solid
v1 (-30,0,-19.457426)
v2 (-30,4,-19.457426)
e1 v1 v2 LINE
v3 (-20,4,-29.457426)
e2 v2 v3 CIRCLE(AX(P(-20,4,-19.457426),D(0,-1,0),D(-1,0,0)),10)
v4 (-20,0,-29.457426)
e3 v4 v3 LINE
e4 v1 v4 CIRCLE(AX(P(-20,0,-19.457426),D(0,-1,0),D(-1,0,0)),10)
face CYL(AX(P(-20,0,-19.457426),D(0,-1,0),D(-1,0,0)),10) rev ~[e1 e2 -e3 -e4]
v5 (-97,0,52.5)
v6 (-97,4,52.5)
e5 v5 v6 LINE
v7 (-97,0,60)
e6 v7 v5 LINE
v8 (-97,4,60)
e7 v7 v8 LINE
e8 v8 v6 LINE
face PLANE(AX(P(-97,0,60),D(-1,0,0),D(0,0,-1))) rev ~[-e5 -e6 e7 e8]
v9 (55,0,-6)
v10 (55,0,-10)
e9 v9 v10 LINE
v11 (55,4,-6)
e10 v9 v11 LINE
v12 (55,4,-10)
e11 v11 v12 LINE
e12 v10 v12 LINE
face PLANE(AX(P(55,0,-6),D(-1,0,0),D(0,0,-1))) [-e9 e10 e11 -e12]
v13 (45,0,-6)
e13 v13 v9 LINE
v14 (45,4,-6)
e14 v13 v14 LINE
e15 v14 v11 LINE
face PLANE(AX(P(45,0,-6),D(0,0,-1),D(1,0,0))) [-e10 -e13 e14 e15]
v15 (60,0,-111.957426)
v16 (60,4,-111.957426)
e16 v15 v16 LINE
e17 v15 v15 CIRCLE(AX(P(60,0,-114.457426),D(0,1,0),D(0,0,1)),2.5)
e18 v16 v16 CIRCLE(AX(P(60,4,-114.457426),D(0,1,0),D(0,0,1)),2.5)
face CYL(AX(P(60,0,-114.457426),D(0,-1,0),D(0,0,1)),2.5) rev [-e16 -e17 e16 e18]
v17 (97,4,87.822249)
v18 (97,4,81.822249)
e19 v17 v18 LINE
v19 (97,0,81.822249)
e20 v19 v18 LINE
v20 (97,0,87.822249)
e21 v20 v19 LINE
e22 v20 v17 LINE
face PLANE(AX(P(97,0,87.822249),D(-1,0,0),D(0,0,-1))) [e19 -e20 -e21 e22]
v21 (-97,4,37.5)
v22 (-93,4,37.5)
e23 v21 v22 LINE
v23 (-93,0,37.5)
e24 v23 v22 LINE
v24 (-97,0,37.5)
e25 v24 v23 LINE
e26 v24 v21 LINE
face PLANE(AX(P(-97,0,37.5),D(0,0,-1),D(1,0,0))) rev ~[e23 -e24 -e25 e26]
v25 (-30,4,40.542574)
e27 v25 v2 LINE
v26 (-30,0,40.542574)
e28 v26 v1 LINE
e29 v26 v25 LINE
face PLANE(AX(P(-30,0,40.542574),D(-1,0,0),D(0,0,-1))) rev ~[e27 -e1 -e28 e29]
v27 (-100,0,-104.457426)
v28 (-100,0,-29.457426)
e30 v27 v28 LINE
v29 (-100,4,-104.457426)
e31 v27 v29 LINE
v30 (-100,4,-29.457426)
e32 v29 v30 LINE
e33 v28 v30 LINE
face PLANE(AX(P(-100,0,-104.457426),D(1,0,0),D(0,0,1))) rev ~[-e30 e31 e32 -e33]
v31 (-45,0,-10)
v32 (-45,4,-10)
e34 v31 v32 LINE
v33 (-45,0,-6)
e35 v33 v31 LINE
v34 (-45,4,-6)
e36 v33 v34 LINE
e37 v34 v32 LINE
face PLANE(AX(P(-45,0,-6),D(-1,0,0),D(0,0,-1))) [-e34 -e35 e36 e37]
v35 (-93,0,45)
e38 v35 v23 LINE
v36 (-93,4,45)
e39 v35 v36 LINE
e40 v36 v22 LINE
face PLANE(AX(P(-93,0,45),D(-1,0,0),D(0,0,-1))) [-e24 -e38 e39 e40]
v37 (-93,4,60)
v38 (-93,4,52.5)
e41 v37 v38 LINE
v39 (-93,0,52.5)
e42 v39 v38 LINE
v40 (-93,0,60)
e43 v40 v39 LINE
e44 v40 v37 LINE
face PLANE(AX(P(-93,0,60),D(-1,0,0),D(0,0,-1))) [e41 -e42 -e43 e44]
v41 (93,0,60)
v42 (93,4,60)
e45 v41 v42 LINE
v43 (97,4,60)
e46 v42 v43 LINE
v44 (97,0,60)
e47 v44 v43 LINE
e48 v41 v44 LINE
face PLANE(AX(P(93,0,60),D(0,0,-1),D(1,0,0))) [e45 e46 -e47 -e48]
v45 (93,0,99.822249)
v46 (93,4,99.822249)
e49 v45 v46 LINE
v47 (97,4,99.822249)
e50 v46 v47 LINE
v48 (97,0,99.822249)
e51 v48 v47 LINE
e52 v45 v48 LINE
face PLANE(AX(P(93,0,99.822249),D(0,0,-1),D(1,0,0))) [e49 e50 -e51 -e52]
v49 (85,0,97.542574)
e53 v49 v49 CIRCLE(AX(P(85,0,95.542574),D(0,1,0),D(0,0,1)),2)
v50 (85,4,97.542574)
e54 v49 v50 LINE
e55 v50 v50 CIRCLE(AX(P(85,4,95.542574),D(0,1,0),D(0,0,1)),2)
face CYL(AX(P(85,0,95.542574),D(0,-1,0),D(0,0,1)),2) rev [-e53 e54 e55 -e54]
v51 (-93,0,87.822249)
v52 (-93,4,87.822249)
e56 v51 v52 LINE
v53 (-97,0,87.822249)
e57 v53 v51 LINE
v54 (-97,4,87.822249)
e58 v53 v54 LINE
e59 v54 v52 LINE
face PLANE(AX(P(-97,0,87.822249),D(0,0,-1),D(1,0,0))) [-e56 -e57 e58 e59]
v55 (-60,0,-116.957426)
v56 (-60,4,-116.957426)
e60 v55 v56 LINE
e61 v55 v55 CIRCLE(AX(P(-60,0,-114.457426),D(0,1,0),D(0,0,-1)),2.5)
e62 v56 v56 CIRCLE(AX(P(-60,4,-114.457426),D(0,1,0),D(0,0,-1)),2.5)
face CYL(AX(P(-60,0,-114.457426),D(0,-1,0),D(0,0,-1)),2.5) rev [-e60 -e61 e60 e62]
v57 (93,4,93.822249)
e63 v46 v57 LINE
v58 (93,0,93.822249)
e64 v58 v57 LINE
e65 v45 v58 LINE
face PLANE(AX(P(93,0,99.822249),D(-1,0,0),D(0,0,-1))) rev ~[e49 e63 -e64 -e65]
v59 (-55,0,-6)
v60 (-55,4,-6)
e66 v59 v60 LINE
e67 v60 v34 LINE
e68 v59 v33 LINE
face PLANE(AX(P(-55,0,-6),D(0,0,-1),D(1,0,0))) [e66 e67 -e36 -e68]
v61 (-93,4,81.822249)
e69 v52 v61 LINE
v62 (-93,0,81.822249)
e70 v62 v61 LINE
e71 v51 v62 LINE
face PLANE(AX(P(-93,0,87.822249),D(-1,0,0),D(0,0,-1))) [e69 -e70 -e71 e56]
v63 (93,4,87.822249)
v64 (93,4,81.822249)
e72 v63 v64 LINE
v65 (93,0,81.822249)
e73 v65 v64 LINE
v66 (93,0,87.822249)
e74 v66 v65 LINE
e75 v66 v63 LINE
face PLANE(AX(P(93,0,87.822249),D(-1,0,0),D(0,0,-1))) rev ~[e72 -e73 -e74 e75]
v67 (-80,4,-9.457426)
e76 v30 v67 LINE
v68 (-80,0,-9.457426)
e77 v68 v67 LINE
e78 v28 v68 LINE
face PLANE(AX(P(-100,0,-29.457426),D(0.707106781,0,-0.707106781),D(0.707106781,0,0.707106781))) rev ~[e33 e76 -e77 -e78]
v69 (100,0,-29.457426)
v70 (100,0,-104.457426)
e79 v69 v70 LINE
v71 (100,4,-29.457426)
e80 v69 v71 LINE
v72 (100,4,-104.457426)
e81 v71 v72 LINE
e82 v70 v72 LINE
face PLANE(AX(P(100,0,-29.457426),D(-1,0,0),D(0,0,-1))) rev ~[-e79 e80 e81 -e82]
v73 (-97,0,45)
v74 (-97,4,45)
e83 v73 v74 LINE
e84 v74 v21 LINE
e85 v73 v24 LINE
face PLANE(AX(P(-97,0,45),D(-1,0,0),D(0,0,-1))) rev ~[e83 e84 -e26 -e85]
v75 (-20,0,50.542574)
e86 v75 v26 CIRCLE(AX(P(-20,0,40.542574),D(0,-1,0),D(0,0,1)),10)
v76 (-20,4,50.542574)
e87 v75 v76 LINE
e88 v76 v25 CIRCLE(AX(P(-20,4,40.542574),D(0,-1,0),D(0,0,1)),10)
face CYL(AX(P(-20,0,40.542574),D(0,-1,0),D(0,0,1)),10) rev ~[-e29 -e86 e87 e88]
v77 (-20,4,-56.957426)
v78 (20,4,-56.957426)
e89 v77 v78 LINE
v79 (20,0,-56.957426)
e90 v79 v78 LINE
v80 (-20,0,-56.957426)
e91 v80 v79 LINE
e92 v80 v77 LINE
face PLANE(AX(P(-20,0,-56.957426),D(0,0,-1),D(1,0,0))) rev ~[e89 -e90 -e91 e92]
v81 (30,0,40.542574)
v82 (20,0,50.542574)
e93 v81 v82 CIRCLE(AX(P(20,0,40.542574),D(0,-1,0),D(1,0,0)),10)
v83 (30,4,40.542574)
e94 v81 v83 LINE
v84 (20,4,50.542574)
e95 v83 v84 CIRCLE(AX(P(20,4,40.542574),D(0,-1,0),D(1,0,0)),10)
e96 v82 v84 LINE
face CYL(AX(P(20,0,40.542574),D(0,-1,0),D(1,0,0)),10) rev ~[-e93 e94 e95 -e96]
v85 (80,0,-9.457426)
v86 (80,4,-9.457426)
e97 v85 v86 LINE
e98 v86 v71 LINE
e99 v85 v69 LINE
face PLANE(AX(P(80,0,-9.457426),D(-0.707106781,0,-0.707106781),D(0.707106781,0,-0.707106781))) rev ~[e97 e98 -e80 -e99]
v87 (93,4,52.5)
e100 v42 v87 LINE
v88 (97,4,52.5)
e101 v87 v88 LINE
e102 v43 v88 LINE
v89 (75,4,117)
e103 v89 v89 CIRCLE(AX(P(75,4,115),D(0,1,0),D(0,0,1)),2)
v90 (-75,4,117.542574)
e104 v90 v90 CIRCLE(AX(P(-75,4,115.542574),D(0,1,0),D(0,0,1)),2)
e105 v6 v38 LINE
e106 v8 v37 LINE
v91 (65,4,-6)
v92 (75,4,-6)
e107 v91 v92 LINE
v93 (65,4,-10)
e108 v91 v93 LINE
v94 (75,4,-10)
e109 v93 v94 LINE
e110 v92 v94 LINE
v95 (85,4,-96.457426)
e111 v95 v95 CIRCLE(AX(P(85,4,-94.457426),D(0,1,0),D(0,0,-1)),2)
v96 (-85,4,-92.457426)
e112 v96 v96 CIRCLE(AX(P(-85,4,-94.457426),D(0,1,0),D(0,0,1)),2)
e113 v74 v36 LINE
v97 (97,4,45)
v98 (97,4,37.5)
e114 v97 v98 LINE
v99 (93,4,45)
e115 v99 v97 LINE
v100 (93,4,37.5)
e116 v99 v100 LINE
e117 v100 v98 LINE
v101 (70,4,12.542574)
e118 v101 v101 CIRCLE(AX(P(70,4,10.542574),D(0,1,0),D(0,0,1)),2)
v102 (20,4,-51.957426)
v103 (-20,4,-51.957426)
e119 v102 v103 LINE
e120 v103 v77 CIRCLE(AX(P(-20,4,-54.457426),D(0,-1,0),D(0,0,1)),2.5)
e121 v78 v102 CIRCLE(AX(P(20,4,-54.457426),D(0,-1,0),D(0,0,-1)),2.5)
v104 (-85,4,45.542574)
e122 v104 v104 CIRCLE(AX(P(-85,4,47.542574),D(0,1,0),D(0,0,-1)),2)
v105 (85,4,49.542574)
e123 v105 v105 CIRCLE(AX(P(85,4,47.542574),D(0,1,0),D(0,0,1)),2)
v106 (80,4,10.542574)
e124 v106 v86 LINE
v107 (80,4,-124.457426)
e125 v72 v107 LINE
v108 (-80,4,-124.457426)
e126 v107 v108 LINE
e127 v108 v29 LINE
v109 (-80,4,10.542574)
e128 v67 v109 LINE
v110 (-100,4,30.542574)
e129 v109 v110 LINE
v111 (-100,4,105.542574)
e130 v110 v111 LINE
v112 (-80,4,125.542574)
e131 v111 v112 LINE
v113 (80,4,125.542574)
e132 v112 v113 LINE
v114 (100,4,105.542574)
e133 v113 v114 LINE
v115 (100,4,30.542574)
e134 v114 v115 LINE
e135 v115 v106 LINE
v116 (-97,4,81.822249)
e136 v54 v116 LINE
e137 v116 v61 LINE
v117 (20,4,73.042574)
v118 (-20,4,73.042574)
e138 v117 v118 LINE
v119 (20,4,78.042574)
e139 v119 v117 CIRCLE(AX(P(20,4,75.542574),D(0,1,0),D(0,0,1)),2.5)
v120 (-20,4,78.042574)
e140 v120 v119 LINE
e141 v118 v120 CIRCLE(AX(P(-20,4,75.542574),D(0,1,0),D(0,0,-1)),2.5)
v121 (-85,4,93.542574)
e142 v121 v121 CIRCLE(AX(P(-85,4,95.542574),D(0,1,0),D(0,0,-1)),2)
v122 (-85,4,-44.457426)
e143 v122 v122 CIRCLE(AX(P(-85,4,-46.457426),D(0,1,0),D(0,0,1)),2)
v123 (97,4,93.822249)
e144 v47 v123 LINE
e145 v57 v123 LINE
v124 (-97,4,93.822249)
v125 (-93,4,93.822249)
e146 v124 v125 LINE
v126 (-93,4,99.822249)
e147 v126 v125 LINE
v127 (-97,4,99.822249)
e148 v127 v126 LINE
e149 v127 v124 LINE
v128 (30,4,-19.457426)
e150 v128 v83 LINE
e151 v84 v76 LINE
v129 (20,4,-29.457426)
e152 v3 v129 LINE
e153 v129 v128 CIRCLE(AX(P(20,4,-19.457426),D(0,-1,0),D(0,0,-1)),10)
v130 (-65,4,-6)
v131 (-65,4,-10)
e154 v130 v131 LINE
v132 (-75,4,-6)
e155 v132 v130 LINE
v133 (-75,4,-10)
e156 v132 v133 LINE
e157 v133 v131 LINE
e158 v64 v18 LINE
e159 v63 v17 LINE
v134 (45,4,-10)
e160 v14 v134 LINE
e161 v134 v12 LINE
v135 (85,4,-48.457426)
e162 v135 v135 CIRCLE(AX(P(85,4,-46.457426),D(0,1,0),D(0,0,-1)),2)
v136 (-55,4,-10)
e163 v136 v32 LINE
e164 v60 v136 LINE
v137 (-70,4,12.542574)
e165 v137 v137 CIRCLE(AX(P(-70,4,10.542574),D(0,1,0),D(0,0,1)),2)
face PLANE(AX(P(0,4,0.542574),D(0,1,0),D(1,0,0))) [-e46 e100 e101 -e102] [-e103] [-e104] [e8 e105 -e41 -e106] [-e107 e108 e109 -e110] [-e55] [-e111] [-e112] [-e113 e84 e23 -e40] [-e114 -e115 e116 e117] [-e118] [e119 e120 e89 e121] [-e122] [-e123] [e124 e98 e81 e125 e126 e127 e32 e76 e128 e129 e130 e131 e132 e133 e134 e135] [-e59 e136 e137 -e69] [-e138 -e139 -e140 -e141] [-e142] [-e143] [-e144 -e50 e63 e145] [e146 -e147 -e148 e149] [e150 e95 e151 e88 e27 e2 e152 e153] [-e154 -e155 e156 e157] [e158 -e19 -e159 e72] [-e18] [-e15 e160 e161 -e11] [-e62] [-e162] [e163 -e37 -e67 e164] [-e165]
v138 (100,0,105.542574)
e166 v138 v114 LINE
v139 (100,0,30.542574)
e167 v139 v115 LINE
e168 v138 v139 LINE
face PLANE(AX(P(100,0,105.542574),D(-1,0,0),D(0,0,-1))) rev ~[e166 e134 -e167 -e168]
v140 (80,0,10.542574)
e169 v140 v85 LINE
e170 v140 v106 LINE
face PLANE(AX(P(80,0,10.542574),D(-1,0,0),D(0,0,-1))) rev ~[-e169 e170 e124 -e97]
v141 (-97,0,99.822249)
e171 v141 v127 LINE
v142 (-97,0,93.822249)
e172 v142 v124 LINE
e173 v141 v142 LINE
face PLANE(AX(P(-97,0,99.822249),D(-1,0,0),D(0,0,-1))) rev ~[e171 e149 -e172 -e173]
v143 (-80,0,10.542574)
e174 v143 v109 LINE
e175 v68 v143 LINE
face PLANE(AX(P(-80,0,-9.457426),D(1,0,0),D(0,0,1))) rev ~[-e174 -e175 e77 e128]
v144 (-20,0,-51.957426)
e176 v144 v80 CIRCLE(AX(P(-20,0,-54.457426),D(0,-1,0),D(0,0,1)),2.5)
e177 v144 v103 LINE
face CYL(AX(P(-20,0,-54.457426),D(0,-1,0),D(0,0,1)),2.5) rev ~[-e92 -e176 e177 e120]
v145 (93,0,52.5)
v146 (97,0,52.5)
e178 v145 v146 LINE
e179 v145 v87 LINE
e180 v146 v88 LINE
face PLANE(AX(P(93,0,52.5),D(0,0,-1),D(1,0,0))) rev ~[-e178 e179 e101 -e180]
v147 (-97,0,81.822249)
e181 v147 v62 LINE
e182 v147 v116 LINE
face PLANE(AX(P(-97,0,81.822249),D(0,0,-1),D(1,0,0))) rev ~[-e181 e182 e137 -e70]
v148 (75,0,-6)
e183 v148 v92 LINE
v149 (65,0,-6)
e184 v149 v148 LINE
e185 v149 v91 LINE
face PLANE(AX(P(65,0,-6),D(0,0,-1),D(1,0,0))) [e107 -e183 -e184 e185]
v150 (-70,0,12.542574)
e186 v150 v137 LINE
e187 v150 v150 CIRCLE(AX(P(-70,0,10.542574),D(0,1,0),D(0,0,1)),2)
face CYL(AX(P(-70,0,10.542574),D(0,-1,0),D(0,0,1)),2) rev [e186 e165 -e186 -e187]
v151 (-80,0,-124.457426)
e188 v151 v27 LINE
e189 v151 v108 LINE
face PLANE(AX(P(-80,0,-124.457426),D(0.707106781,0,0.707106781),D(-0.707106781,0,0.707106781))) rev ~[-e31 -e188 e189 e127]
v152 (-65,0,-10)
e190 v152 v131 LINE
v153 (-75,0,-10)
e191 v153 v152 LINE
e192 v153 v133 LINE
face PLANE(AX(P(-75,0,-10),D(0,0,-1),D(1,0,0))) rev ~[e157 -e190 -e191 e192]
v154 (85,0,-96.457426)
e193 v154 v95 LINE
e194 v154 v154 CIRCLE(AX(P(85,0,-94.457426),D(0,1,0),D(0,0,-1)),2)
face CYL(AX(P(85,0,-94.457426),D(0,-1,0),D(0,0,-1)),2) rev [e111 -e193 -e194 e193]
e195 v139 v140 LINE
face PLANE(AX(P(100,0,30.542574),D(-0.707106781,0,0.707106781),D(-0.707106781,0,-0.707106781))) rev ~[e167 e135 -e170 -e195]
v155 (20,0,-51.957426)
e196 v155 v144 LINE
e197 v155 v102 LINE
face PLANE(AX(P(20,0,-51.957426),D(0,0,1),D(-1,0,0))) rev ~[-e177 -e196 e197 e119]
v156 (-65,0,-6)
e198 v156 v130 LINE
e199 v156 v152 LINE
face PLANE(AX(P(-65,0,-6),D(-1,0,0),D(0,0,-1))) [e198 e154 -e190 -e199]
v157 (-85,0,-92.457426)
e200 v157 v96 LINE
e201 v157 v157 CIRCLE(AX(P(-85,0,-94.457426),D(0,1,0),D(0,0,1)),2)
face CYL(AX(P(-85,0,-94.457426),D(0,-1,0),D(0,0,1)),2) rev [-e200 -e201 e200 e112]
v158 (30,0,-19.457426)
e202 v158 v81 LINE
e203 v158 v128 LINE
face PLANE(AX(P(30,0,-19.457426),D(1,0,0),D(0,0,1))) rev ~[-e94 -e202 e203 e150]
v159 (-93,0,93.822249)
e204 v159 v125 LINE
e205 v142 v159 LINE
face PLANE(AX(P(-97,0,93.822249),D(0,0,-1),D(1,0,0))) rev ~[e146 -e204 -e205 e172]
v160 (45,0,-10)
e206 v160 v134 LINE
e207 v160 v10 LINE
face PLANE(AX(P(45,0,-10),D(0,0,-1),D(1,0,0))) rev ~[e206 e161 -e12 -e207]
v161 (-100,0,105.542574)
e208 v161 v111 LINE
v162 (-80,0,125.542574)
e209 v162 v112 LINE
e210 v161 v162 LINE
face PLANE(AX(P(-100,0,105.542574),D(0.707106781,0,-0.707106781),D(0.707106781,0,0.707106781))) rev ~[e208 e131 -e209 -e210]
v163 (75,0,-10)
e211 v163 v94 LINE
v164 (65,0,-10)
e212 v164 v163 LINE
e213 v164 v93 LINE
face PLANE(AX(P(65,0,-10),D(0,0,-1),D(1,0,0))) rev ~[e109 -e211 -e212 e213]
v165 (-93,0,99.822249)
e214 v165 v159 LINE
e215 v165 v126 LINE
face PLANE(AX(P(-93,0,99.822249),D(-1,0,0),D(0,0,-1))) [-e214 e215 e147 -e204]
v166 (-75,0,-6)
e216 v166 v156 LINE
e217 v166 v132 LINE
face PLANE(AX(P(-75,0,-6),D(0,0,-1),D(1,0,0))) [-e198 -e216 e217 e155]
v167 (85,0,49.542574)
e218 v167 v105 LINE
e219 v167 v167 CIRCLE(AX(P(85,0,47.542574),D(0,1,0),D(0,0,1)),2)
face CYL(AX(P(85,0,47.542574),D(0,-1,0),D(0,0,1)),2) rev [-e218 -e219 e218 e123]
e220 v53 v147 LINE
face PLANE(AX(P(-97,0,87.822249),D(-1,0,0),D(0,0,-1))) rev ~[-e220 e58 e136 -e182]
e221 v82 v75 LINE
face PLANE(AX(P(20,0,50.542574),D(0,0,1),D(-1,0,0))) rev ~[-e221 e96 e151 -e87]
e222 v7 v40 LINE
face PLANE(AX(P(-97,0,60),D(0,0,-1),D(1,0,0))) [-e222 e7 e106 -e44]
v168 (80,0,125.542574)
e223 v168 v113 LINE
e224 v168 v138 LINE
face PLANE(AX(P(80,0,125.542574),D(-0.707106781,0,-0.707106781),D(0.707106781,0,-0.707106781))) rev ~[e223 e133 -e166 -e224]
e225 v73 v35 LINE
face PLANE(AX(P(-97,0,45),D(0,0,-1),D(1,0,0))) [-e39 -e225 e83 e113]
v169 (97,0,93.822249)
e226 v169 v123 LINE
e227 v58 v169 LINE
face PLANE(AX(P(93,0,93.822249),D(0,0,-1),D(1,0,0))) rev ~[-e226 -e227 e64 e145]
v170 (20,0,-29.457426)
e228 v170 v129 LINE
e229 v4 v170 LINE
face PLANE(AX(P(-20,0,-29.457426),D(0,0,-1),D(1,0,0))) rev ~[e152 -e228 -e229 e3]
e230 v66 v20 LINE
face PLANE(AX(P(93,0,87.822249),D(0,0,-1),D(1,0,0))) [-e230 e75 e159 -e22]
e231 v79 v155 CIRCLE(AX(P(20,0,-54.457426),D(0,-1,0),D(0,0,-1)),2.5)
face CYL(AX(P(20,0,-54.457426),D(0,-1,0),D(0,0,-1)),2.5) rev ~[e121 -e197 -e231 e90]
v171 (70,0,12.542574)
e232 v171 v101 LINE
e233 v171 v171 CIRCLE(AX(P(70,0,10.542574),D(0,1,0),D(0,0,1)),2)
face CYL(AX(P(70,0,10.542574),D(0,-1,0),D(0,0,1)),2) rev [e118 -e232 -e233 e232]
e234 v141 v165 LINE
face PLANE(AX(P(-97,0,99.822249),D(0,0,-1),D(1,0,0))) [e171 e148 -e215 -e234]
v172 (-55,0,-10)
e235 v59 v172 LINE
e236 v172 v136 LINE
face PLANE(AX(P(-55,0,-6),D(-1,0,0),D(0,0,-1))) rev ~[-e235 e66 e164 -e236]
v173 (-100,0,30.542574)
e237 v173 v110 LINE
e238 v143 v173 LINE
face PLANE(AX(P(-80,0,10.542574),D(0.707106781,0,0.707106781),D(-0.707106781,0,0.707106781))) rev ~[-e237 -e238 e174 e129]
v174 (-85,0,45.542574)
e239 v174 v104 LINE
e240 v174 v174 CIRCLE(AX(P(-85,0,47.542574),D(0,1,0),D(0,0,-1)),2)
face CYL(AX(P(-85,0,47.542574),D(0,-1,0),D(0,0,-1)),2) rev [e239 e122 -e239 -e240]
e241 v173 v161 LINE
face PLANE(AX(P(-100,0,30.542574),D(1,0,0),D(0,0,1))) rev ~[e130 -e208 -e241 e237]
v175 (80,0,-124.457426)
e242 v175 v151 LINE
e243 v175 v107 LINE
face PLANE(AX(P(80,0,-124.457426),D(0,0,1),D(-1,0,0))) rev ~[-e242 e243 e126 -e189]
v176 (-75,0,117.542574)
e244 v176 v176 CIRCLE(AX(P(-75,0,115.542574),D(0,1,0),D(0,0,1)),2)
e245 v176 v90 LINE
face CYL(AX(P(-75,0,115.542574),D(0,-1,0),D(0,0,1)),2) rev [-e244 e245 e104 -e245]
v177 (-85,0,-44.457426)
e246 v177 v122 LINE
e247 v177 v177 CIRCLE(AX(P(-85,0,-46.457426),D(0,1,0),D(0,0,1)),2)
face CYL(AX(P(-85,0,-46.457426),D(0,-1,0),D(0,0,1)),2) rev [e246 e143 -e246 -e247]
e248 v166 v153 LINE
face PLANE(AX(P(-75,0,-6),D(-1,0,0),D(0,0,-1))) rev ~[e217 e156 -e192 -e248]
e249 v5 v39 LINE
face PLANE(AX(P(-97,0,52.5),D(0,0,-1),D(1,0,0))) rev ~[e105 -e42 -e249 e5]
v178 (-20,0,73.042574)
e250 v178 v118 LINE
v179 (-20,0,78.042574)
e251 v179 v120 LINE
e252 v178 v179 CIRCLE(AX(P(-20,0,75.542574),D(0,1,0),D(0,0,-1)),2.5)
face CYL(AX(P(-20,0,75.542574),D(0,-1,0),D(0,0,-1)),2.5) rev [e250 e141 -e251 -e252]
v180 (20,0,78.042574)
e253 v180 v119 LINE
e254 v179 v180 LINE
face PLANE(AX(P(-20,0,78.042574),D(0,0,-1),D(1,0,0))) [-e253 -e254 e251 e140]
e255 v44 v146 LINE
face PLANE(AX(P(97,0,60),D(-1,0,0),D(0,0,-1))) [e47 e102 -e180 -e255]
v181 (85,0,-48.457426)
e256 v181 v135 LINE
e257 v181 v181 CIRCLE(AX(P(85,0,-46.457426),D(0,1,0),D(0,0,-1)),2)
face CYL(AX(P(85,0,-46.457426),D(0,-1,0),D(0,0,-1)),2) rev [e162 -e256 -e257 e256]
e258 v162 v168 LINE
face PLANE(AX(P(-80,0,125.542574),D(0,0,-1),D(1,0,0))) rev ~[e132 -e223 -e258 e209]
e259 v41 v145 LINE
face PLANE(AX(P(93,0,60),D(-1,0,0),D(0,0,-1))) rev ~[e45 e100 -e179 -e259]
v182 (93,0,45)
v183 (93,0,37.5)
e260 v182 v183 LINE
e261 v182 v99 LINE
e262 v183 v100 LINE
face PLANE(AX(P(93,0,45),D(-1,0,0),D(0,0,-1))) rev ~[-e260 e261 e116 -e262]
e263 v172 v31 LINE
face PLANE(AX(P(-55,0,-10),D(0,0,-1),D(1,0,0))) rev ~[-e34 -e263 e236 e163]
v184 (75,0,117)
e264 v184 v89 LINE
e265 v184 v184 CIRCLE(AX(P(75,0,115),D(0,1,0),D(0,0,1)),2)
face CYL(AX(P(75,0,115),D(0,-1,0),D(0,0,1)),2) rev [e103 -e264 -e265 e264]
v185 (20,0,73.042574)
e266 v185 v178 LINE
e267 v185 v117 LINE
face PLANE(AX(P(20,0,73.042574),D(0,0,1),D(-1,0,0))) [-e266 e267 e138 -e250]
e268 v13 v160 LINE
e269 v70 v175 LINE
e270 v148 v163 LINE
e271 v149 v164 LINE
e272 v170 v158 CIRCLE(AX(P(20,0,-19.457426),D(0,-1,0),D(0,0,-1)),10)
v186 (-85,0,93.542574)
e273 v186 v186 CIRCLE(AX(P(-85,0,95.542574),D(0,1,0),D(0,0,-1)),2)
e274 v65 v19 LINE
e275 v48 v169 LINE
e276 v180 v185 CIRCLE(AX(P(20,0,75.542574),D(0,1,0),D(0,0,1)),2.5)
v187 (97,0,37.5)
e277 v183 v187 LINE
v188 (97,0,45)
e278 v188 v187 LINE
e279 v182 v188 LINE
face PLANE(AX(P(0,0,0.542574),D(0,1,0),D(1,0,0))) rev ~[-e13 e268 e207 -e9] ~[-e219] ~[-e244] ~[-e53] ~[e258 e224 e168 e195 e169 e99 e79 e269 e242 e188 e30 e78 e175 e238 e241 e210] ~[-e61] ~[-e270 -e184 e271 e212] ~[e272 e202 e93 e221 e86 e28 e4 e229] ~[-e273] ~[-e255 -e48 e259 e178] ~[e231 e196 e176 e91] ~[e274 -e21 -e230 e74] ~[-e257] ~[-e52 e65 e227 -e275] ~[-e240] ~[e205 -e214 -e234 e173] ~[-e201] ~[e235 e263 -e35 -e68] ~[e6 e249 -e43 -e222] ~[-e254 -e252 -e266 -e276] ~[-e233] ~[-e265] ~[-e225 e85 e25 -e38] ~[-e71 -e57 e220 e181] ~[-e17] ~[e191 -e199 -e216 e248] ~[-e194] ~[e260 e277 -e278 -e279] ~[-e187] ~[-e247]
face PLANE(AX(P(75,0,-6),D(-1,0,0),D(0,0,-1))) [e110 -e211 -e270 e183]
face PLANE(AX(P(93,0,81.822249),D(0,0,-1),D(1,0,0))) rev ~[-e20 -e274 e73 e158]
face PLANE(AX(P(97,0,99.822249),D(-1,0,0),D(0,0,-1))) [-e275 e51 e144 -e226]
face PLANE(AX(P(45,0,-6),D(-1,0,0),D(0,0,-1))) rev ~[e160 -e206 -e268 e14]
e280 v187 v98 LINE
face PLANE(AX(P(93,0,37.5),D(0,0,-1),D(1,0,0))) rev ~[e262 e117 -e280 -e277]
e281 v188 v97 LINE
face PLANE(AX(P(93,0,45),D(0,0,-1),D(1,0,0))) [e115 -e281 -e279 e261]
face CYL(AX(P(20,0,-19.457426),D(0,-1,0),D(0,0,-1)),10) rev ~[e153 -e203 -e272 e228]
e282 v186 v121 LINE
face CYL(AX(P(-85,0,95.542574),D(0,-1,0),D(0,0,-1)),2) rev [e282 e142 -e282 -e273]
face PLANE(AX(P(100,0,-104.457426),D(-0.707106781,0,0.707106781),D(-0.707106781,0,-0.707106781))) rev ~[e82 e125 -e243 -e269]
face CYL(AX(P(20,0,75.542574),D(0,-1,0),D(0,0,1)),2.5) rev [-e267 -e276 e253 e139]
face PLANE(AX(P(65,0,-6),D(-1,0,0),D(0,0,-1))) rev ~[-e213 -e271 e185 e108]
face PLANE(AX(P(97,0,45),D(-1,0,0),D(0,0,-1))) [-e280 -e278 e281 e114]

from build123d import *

# Parameters (mm, degrees)
SKETCH1_R           = 2
SKETCH1_R_2         = 2.5
SKETCH1_W           = 4
SKETCH1_H           = 7.5
SKETCH1_H_2         = 6
SKETCH1_W_2         = 10
SKETCH1_H_3         = 4
BOSS_EXTRUDE1_DEPTH = 4


with BuildPart() as part:
    # Sketch1 → Boss-Extrude1 (new body)
    with BuildSketch(Plane(origin=(0, 0, 0), x_dir=(1, 0, 0), z_dir=(0, 1, 0))):
        Polygon((80, 124.45742592), (-80, 124.45742592), (-100, 104.45742592), (-100, 29.45742592), (-80, 9.45742592), (-80, -10.54257408), (-100, -30.54257408), (-100, -105.54257408), (-80, -125.54257408), (80, -125.54257408), (100, -105.54257408), (100, -30.54257408), (80, -10.54257408), (80, 9.45742592), (100, 29.45742592), (100, 104.45742592), align=None)
        with Locations(Location((-85, 94.45742592, 0), (0, 0, 270))):
            Circle(SKETCH1_R, mode=Mode.SUBTRACT)
        with Locations(Location((-85, 46.45742592, 0), (0, 0, 270))):
            Circle(SKETCH1_R, mode=Mode.SUBTRACT)
        with Locations(Location((85, 94.45742592, 0), (0, 0, 90))):
            Circle(SKETCH1_R, mode=Mode.SUBTRACT)
        with Locations(Location((85, 46.45742592, 0), (0, 0, 90))):
            Circle(SKETCH1_R, mode=Mode.SUBTRACT)
        with Locations(Location((85, -47.54257408, 0), (0, 0, 270))):
            Circle(SKETCH1_R, mode=Mode.SUBTRACT)
        with Locations(Location((85, -95.54257408, 0), (0, 0, 270))):
            Circle(SKETCH1_R, mode=Mode.SUBTRACT)
        with Locations(Location((-85, -47.54257408, 0), (0, 0, 90))):
            Circle(SKETCH1_R, mode=Mode.SUBTRACT)
        with Locations(Location((-85, -95.54257408, 0), (0, 0, 90))):
            Circle(SKETCH1_R, mode=Mode.SUBTRACT)
        with Locations(Location((60, 114.45742592, 0), (0, 0, 270))):
            Circle(SKETCH1_R_2, mode=Mode.SUBTRACT)
        with Locations(Location((-60, 114.45742592, 0), (0, 0, 90))):
            Circle(SKETCH1_R_2, mode=Mode.SUBTRACT)
        with Locations(Location((-75, -115.54257408, 0), (0, 0, 270))):
            Circle(SKETCH1_R, mode=Mode.SUBTRACT)
        with Locations(Location((-70, -10.54257408, 0), (0, 0, 270))):
            Circle(SKETCH1_R, mode=Mode.SUBTRACT)
        with Locations(Location((75, -115, 0), (0, 0, 270))):
            Circle(SKETCH1_R, mode=Mode.SUBTRACT)
        with Locations(Location((70, -10.54257408, 0), (0, 0, 270))):
            Circle(SKETCH1_R, mode=Mode.SUBTRACT)
        with BuildLine():
            Line((-20, 29.45742592), (20, 29.45742592))
            ThreePointArc((20, 29.45742592), (27.071067812, 26.528493731), (30, 19.45742592))
            Line((30, 19.45742592), (30, -40.54257408))
            ThreePointArc((30, -40.54257408), (27.071067812, -47.613641892), (20, -50.54257408))
            Line((20, -50.54257408), (-20, -50.54257408))
            ThreePointArc((-20, -50.54257408), (-27.071067812, -47.613641892), (-30, -40.54257408))
            Line((-30, -40.54257408), (-30, 19.45742592))
            ThreePointArc((-30, 19.45742592), (-27.071067812, 26.528493731), (-20, 29.45742592))
        make_face(mode=Mode.SUBTRACT)
        with BuildLine():
            Line((20, -73.04257408), (-20, -73.04257408))
            ThreePointArc((-20, -73.04257408), (-22.5, -75.54257408), (-20, -78.04257408))
            Line((-20, -78.04257408), (20, -78.04257408))
            ThreePointArc((20, -78.04257408), (22.5, -75.54257408), (20, -73.04257408))
        make_face(mode=Mode.SUBTRACT)
        with Locations((95, -41.25)):
            Rectangle(SKETCH1_W, SKETCH1_H, mode=Mode.SUBTRACT)
        with Locations((95, -96.822248533)):
            Rectangle(SKETCH1_W, SKETCH1_H_2, mode=Mode.SUBTRACT)
        with Locations((70, 8)):
            Rectangle(SKETCH1_W_2, SKETCH1_H_3, mode=Mode.SUBTRACT)
        with Locations((95, -56.25)):
            Rectangle(SKETCH1_W, SKETCH1_H, mode=Mode.SUBTRACT)
        with Locations((50, 8)):
            Rectangle(SKETCH1_W_2, SKETCH1_H_3, mode=Mode.SUBTRACT)
        with Locations((95, -84.822248533)):
            Rectangle(SKETCH1_W, SKETCH1_H_2, mode=Mode.SUBTRACT)
        with Locations((-95, -96.822248533)):
            Rectangle(SKETCH1_W, SKETCH1_H_2, mode=Mode.SUBTRACT)
        with Locations((-95, -84.822248533)):
            Rectangle(SKETCH1_W, SKETCH1_H_2, mode=Mode.SUBTRACT)
        with Locations((-95, -56.25)):
            Rectangle(SKETCH1_W, SKETCH1_H, mode=Mode.SUBTRACT)
        with Locations((-95, -41.25)):
            Rectangle(SKETCH1_W, SKETCH1_H, mode=Mode.SUBTRACT)
        with Locations((-50, 8)):
            Rectangle(SKETCH1_W_2, SKETCH1_H_3, mode=Mode.SUBTRACT)
        with Locations((-70, 8)):
            Rectangle(SKETCH1_W_2, SKETCH1_H_3, mode=Mode.SUBTRACT)
        with BuildLine():
            Line((20, 51.95742592), (-20, 51.95742592))
            ThreePointArc((-20, 51.95742592), (-22.5, 54.45742592), (-20, 56.95742592))
            Line((-20, 56.95742592), (20, 56.95742592))
            ThreePointArc((20, 56.95742592), (22.5, 54.45742592), (20, 51.95742592))
        make_face(mode=Mode.SUBTRACT)
    extrude(amount=BOSS_EXTRUDE1_DEPTH)


solid = part.part
